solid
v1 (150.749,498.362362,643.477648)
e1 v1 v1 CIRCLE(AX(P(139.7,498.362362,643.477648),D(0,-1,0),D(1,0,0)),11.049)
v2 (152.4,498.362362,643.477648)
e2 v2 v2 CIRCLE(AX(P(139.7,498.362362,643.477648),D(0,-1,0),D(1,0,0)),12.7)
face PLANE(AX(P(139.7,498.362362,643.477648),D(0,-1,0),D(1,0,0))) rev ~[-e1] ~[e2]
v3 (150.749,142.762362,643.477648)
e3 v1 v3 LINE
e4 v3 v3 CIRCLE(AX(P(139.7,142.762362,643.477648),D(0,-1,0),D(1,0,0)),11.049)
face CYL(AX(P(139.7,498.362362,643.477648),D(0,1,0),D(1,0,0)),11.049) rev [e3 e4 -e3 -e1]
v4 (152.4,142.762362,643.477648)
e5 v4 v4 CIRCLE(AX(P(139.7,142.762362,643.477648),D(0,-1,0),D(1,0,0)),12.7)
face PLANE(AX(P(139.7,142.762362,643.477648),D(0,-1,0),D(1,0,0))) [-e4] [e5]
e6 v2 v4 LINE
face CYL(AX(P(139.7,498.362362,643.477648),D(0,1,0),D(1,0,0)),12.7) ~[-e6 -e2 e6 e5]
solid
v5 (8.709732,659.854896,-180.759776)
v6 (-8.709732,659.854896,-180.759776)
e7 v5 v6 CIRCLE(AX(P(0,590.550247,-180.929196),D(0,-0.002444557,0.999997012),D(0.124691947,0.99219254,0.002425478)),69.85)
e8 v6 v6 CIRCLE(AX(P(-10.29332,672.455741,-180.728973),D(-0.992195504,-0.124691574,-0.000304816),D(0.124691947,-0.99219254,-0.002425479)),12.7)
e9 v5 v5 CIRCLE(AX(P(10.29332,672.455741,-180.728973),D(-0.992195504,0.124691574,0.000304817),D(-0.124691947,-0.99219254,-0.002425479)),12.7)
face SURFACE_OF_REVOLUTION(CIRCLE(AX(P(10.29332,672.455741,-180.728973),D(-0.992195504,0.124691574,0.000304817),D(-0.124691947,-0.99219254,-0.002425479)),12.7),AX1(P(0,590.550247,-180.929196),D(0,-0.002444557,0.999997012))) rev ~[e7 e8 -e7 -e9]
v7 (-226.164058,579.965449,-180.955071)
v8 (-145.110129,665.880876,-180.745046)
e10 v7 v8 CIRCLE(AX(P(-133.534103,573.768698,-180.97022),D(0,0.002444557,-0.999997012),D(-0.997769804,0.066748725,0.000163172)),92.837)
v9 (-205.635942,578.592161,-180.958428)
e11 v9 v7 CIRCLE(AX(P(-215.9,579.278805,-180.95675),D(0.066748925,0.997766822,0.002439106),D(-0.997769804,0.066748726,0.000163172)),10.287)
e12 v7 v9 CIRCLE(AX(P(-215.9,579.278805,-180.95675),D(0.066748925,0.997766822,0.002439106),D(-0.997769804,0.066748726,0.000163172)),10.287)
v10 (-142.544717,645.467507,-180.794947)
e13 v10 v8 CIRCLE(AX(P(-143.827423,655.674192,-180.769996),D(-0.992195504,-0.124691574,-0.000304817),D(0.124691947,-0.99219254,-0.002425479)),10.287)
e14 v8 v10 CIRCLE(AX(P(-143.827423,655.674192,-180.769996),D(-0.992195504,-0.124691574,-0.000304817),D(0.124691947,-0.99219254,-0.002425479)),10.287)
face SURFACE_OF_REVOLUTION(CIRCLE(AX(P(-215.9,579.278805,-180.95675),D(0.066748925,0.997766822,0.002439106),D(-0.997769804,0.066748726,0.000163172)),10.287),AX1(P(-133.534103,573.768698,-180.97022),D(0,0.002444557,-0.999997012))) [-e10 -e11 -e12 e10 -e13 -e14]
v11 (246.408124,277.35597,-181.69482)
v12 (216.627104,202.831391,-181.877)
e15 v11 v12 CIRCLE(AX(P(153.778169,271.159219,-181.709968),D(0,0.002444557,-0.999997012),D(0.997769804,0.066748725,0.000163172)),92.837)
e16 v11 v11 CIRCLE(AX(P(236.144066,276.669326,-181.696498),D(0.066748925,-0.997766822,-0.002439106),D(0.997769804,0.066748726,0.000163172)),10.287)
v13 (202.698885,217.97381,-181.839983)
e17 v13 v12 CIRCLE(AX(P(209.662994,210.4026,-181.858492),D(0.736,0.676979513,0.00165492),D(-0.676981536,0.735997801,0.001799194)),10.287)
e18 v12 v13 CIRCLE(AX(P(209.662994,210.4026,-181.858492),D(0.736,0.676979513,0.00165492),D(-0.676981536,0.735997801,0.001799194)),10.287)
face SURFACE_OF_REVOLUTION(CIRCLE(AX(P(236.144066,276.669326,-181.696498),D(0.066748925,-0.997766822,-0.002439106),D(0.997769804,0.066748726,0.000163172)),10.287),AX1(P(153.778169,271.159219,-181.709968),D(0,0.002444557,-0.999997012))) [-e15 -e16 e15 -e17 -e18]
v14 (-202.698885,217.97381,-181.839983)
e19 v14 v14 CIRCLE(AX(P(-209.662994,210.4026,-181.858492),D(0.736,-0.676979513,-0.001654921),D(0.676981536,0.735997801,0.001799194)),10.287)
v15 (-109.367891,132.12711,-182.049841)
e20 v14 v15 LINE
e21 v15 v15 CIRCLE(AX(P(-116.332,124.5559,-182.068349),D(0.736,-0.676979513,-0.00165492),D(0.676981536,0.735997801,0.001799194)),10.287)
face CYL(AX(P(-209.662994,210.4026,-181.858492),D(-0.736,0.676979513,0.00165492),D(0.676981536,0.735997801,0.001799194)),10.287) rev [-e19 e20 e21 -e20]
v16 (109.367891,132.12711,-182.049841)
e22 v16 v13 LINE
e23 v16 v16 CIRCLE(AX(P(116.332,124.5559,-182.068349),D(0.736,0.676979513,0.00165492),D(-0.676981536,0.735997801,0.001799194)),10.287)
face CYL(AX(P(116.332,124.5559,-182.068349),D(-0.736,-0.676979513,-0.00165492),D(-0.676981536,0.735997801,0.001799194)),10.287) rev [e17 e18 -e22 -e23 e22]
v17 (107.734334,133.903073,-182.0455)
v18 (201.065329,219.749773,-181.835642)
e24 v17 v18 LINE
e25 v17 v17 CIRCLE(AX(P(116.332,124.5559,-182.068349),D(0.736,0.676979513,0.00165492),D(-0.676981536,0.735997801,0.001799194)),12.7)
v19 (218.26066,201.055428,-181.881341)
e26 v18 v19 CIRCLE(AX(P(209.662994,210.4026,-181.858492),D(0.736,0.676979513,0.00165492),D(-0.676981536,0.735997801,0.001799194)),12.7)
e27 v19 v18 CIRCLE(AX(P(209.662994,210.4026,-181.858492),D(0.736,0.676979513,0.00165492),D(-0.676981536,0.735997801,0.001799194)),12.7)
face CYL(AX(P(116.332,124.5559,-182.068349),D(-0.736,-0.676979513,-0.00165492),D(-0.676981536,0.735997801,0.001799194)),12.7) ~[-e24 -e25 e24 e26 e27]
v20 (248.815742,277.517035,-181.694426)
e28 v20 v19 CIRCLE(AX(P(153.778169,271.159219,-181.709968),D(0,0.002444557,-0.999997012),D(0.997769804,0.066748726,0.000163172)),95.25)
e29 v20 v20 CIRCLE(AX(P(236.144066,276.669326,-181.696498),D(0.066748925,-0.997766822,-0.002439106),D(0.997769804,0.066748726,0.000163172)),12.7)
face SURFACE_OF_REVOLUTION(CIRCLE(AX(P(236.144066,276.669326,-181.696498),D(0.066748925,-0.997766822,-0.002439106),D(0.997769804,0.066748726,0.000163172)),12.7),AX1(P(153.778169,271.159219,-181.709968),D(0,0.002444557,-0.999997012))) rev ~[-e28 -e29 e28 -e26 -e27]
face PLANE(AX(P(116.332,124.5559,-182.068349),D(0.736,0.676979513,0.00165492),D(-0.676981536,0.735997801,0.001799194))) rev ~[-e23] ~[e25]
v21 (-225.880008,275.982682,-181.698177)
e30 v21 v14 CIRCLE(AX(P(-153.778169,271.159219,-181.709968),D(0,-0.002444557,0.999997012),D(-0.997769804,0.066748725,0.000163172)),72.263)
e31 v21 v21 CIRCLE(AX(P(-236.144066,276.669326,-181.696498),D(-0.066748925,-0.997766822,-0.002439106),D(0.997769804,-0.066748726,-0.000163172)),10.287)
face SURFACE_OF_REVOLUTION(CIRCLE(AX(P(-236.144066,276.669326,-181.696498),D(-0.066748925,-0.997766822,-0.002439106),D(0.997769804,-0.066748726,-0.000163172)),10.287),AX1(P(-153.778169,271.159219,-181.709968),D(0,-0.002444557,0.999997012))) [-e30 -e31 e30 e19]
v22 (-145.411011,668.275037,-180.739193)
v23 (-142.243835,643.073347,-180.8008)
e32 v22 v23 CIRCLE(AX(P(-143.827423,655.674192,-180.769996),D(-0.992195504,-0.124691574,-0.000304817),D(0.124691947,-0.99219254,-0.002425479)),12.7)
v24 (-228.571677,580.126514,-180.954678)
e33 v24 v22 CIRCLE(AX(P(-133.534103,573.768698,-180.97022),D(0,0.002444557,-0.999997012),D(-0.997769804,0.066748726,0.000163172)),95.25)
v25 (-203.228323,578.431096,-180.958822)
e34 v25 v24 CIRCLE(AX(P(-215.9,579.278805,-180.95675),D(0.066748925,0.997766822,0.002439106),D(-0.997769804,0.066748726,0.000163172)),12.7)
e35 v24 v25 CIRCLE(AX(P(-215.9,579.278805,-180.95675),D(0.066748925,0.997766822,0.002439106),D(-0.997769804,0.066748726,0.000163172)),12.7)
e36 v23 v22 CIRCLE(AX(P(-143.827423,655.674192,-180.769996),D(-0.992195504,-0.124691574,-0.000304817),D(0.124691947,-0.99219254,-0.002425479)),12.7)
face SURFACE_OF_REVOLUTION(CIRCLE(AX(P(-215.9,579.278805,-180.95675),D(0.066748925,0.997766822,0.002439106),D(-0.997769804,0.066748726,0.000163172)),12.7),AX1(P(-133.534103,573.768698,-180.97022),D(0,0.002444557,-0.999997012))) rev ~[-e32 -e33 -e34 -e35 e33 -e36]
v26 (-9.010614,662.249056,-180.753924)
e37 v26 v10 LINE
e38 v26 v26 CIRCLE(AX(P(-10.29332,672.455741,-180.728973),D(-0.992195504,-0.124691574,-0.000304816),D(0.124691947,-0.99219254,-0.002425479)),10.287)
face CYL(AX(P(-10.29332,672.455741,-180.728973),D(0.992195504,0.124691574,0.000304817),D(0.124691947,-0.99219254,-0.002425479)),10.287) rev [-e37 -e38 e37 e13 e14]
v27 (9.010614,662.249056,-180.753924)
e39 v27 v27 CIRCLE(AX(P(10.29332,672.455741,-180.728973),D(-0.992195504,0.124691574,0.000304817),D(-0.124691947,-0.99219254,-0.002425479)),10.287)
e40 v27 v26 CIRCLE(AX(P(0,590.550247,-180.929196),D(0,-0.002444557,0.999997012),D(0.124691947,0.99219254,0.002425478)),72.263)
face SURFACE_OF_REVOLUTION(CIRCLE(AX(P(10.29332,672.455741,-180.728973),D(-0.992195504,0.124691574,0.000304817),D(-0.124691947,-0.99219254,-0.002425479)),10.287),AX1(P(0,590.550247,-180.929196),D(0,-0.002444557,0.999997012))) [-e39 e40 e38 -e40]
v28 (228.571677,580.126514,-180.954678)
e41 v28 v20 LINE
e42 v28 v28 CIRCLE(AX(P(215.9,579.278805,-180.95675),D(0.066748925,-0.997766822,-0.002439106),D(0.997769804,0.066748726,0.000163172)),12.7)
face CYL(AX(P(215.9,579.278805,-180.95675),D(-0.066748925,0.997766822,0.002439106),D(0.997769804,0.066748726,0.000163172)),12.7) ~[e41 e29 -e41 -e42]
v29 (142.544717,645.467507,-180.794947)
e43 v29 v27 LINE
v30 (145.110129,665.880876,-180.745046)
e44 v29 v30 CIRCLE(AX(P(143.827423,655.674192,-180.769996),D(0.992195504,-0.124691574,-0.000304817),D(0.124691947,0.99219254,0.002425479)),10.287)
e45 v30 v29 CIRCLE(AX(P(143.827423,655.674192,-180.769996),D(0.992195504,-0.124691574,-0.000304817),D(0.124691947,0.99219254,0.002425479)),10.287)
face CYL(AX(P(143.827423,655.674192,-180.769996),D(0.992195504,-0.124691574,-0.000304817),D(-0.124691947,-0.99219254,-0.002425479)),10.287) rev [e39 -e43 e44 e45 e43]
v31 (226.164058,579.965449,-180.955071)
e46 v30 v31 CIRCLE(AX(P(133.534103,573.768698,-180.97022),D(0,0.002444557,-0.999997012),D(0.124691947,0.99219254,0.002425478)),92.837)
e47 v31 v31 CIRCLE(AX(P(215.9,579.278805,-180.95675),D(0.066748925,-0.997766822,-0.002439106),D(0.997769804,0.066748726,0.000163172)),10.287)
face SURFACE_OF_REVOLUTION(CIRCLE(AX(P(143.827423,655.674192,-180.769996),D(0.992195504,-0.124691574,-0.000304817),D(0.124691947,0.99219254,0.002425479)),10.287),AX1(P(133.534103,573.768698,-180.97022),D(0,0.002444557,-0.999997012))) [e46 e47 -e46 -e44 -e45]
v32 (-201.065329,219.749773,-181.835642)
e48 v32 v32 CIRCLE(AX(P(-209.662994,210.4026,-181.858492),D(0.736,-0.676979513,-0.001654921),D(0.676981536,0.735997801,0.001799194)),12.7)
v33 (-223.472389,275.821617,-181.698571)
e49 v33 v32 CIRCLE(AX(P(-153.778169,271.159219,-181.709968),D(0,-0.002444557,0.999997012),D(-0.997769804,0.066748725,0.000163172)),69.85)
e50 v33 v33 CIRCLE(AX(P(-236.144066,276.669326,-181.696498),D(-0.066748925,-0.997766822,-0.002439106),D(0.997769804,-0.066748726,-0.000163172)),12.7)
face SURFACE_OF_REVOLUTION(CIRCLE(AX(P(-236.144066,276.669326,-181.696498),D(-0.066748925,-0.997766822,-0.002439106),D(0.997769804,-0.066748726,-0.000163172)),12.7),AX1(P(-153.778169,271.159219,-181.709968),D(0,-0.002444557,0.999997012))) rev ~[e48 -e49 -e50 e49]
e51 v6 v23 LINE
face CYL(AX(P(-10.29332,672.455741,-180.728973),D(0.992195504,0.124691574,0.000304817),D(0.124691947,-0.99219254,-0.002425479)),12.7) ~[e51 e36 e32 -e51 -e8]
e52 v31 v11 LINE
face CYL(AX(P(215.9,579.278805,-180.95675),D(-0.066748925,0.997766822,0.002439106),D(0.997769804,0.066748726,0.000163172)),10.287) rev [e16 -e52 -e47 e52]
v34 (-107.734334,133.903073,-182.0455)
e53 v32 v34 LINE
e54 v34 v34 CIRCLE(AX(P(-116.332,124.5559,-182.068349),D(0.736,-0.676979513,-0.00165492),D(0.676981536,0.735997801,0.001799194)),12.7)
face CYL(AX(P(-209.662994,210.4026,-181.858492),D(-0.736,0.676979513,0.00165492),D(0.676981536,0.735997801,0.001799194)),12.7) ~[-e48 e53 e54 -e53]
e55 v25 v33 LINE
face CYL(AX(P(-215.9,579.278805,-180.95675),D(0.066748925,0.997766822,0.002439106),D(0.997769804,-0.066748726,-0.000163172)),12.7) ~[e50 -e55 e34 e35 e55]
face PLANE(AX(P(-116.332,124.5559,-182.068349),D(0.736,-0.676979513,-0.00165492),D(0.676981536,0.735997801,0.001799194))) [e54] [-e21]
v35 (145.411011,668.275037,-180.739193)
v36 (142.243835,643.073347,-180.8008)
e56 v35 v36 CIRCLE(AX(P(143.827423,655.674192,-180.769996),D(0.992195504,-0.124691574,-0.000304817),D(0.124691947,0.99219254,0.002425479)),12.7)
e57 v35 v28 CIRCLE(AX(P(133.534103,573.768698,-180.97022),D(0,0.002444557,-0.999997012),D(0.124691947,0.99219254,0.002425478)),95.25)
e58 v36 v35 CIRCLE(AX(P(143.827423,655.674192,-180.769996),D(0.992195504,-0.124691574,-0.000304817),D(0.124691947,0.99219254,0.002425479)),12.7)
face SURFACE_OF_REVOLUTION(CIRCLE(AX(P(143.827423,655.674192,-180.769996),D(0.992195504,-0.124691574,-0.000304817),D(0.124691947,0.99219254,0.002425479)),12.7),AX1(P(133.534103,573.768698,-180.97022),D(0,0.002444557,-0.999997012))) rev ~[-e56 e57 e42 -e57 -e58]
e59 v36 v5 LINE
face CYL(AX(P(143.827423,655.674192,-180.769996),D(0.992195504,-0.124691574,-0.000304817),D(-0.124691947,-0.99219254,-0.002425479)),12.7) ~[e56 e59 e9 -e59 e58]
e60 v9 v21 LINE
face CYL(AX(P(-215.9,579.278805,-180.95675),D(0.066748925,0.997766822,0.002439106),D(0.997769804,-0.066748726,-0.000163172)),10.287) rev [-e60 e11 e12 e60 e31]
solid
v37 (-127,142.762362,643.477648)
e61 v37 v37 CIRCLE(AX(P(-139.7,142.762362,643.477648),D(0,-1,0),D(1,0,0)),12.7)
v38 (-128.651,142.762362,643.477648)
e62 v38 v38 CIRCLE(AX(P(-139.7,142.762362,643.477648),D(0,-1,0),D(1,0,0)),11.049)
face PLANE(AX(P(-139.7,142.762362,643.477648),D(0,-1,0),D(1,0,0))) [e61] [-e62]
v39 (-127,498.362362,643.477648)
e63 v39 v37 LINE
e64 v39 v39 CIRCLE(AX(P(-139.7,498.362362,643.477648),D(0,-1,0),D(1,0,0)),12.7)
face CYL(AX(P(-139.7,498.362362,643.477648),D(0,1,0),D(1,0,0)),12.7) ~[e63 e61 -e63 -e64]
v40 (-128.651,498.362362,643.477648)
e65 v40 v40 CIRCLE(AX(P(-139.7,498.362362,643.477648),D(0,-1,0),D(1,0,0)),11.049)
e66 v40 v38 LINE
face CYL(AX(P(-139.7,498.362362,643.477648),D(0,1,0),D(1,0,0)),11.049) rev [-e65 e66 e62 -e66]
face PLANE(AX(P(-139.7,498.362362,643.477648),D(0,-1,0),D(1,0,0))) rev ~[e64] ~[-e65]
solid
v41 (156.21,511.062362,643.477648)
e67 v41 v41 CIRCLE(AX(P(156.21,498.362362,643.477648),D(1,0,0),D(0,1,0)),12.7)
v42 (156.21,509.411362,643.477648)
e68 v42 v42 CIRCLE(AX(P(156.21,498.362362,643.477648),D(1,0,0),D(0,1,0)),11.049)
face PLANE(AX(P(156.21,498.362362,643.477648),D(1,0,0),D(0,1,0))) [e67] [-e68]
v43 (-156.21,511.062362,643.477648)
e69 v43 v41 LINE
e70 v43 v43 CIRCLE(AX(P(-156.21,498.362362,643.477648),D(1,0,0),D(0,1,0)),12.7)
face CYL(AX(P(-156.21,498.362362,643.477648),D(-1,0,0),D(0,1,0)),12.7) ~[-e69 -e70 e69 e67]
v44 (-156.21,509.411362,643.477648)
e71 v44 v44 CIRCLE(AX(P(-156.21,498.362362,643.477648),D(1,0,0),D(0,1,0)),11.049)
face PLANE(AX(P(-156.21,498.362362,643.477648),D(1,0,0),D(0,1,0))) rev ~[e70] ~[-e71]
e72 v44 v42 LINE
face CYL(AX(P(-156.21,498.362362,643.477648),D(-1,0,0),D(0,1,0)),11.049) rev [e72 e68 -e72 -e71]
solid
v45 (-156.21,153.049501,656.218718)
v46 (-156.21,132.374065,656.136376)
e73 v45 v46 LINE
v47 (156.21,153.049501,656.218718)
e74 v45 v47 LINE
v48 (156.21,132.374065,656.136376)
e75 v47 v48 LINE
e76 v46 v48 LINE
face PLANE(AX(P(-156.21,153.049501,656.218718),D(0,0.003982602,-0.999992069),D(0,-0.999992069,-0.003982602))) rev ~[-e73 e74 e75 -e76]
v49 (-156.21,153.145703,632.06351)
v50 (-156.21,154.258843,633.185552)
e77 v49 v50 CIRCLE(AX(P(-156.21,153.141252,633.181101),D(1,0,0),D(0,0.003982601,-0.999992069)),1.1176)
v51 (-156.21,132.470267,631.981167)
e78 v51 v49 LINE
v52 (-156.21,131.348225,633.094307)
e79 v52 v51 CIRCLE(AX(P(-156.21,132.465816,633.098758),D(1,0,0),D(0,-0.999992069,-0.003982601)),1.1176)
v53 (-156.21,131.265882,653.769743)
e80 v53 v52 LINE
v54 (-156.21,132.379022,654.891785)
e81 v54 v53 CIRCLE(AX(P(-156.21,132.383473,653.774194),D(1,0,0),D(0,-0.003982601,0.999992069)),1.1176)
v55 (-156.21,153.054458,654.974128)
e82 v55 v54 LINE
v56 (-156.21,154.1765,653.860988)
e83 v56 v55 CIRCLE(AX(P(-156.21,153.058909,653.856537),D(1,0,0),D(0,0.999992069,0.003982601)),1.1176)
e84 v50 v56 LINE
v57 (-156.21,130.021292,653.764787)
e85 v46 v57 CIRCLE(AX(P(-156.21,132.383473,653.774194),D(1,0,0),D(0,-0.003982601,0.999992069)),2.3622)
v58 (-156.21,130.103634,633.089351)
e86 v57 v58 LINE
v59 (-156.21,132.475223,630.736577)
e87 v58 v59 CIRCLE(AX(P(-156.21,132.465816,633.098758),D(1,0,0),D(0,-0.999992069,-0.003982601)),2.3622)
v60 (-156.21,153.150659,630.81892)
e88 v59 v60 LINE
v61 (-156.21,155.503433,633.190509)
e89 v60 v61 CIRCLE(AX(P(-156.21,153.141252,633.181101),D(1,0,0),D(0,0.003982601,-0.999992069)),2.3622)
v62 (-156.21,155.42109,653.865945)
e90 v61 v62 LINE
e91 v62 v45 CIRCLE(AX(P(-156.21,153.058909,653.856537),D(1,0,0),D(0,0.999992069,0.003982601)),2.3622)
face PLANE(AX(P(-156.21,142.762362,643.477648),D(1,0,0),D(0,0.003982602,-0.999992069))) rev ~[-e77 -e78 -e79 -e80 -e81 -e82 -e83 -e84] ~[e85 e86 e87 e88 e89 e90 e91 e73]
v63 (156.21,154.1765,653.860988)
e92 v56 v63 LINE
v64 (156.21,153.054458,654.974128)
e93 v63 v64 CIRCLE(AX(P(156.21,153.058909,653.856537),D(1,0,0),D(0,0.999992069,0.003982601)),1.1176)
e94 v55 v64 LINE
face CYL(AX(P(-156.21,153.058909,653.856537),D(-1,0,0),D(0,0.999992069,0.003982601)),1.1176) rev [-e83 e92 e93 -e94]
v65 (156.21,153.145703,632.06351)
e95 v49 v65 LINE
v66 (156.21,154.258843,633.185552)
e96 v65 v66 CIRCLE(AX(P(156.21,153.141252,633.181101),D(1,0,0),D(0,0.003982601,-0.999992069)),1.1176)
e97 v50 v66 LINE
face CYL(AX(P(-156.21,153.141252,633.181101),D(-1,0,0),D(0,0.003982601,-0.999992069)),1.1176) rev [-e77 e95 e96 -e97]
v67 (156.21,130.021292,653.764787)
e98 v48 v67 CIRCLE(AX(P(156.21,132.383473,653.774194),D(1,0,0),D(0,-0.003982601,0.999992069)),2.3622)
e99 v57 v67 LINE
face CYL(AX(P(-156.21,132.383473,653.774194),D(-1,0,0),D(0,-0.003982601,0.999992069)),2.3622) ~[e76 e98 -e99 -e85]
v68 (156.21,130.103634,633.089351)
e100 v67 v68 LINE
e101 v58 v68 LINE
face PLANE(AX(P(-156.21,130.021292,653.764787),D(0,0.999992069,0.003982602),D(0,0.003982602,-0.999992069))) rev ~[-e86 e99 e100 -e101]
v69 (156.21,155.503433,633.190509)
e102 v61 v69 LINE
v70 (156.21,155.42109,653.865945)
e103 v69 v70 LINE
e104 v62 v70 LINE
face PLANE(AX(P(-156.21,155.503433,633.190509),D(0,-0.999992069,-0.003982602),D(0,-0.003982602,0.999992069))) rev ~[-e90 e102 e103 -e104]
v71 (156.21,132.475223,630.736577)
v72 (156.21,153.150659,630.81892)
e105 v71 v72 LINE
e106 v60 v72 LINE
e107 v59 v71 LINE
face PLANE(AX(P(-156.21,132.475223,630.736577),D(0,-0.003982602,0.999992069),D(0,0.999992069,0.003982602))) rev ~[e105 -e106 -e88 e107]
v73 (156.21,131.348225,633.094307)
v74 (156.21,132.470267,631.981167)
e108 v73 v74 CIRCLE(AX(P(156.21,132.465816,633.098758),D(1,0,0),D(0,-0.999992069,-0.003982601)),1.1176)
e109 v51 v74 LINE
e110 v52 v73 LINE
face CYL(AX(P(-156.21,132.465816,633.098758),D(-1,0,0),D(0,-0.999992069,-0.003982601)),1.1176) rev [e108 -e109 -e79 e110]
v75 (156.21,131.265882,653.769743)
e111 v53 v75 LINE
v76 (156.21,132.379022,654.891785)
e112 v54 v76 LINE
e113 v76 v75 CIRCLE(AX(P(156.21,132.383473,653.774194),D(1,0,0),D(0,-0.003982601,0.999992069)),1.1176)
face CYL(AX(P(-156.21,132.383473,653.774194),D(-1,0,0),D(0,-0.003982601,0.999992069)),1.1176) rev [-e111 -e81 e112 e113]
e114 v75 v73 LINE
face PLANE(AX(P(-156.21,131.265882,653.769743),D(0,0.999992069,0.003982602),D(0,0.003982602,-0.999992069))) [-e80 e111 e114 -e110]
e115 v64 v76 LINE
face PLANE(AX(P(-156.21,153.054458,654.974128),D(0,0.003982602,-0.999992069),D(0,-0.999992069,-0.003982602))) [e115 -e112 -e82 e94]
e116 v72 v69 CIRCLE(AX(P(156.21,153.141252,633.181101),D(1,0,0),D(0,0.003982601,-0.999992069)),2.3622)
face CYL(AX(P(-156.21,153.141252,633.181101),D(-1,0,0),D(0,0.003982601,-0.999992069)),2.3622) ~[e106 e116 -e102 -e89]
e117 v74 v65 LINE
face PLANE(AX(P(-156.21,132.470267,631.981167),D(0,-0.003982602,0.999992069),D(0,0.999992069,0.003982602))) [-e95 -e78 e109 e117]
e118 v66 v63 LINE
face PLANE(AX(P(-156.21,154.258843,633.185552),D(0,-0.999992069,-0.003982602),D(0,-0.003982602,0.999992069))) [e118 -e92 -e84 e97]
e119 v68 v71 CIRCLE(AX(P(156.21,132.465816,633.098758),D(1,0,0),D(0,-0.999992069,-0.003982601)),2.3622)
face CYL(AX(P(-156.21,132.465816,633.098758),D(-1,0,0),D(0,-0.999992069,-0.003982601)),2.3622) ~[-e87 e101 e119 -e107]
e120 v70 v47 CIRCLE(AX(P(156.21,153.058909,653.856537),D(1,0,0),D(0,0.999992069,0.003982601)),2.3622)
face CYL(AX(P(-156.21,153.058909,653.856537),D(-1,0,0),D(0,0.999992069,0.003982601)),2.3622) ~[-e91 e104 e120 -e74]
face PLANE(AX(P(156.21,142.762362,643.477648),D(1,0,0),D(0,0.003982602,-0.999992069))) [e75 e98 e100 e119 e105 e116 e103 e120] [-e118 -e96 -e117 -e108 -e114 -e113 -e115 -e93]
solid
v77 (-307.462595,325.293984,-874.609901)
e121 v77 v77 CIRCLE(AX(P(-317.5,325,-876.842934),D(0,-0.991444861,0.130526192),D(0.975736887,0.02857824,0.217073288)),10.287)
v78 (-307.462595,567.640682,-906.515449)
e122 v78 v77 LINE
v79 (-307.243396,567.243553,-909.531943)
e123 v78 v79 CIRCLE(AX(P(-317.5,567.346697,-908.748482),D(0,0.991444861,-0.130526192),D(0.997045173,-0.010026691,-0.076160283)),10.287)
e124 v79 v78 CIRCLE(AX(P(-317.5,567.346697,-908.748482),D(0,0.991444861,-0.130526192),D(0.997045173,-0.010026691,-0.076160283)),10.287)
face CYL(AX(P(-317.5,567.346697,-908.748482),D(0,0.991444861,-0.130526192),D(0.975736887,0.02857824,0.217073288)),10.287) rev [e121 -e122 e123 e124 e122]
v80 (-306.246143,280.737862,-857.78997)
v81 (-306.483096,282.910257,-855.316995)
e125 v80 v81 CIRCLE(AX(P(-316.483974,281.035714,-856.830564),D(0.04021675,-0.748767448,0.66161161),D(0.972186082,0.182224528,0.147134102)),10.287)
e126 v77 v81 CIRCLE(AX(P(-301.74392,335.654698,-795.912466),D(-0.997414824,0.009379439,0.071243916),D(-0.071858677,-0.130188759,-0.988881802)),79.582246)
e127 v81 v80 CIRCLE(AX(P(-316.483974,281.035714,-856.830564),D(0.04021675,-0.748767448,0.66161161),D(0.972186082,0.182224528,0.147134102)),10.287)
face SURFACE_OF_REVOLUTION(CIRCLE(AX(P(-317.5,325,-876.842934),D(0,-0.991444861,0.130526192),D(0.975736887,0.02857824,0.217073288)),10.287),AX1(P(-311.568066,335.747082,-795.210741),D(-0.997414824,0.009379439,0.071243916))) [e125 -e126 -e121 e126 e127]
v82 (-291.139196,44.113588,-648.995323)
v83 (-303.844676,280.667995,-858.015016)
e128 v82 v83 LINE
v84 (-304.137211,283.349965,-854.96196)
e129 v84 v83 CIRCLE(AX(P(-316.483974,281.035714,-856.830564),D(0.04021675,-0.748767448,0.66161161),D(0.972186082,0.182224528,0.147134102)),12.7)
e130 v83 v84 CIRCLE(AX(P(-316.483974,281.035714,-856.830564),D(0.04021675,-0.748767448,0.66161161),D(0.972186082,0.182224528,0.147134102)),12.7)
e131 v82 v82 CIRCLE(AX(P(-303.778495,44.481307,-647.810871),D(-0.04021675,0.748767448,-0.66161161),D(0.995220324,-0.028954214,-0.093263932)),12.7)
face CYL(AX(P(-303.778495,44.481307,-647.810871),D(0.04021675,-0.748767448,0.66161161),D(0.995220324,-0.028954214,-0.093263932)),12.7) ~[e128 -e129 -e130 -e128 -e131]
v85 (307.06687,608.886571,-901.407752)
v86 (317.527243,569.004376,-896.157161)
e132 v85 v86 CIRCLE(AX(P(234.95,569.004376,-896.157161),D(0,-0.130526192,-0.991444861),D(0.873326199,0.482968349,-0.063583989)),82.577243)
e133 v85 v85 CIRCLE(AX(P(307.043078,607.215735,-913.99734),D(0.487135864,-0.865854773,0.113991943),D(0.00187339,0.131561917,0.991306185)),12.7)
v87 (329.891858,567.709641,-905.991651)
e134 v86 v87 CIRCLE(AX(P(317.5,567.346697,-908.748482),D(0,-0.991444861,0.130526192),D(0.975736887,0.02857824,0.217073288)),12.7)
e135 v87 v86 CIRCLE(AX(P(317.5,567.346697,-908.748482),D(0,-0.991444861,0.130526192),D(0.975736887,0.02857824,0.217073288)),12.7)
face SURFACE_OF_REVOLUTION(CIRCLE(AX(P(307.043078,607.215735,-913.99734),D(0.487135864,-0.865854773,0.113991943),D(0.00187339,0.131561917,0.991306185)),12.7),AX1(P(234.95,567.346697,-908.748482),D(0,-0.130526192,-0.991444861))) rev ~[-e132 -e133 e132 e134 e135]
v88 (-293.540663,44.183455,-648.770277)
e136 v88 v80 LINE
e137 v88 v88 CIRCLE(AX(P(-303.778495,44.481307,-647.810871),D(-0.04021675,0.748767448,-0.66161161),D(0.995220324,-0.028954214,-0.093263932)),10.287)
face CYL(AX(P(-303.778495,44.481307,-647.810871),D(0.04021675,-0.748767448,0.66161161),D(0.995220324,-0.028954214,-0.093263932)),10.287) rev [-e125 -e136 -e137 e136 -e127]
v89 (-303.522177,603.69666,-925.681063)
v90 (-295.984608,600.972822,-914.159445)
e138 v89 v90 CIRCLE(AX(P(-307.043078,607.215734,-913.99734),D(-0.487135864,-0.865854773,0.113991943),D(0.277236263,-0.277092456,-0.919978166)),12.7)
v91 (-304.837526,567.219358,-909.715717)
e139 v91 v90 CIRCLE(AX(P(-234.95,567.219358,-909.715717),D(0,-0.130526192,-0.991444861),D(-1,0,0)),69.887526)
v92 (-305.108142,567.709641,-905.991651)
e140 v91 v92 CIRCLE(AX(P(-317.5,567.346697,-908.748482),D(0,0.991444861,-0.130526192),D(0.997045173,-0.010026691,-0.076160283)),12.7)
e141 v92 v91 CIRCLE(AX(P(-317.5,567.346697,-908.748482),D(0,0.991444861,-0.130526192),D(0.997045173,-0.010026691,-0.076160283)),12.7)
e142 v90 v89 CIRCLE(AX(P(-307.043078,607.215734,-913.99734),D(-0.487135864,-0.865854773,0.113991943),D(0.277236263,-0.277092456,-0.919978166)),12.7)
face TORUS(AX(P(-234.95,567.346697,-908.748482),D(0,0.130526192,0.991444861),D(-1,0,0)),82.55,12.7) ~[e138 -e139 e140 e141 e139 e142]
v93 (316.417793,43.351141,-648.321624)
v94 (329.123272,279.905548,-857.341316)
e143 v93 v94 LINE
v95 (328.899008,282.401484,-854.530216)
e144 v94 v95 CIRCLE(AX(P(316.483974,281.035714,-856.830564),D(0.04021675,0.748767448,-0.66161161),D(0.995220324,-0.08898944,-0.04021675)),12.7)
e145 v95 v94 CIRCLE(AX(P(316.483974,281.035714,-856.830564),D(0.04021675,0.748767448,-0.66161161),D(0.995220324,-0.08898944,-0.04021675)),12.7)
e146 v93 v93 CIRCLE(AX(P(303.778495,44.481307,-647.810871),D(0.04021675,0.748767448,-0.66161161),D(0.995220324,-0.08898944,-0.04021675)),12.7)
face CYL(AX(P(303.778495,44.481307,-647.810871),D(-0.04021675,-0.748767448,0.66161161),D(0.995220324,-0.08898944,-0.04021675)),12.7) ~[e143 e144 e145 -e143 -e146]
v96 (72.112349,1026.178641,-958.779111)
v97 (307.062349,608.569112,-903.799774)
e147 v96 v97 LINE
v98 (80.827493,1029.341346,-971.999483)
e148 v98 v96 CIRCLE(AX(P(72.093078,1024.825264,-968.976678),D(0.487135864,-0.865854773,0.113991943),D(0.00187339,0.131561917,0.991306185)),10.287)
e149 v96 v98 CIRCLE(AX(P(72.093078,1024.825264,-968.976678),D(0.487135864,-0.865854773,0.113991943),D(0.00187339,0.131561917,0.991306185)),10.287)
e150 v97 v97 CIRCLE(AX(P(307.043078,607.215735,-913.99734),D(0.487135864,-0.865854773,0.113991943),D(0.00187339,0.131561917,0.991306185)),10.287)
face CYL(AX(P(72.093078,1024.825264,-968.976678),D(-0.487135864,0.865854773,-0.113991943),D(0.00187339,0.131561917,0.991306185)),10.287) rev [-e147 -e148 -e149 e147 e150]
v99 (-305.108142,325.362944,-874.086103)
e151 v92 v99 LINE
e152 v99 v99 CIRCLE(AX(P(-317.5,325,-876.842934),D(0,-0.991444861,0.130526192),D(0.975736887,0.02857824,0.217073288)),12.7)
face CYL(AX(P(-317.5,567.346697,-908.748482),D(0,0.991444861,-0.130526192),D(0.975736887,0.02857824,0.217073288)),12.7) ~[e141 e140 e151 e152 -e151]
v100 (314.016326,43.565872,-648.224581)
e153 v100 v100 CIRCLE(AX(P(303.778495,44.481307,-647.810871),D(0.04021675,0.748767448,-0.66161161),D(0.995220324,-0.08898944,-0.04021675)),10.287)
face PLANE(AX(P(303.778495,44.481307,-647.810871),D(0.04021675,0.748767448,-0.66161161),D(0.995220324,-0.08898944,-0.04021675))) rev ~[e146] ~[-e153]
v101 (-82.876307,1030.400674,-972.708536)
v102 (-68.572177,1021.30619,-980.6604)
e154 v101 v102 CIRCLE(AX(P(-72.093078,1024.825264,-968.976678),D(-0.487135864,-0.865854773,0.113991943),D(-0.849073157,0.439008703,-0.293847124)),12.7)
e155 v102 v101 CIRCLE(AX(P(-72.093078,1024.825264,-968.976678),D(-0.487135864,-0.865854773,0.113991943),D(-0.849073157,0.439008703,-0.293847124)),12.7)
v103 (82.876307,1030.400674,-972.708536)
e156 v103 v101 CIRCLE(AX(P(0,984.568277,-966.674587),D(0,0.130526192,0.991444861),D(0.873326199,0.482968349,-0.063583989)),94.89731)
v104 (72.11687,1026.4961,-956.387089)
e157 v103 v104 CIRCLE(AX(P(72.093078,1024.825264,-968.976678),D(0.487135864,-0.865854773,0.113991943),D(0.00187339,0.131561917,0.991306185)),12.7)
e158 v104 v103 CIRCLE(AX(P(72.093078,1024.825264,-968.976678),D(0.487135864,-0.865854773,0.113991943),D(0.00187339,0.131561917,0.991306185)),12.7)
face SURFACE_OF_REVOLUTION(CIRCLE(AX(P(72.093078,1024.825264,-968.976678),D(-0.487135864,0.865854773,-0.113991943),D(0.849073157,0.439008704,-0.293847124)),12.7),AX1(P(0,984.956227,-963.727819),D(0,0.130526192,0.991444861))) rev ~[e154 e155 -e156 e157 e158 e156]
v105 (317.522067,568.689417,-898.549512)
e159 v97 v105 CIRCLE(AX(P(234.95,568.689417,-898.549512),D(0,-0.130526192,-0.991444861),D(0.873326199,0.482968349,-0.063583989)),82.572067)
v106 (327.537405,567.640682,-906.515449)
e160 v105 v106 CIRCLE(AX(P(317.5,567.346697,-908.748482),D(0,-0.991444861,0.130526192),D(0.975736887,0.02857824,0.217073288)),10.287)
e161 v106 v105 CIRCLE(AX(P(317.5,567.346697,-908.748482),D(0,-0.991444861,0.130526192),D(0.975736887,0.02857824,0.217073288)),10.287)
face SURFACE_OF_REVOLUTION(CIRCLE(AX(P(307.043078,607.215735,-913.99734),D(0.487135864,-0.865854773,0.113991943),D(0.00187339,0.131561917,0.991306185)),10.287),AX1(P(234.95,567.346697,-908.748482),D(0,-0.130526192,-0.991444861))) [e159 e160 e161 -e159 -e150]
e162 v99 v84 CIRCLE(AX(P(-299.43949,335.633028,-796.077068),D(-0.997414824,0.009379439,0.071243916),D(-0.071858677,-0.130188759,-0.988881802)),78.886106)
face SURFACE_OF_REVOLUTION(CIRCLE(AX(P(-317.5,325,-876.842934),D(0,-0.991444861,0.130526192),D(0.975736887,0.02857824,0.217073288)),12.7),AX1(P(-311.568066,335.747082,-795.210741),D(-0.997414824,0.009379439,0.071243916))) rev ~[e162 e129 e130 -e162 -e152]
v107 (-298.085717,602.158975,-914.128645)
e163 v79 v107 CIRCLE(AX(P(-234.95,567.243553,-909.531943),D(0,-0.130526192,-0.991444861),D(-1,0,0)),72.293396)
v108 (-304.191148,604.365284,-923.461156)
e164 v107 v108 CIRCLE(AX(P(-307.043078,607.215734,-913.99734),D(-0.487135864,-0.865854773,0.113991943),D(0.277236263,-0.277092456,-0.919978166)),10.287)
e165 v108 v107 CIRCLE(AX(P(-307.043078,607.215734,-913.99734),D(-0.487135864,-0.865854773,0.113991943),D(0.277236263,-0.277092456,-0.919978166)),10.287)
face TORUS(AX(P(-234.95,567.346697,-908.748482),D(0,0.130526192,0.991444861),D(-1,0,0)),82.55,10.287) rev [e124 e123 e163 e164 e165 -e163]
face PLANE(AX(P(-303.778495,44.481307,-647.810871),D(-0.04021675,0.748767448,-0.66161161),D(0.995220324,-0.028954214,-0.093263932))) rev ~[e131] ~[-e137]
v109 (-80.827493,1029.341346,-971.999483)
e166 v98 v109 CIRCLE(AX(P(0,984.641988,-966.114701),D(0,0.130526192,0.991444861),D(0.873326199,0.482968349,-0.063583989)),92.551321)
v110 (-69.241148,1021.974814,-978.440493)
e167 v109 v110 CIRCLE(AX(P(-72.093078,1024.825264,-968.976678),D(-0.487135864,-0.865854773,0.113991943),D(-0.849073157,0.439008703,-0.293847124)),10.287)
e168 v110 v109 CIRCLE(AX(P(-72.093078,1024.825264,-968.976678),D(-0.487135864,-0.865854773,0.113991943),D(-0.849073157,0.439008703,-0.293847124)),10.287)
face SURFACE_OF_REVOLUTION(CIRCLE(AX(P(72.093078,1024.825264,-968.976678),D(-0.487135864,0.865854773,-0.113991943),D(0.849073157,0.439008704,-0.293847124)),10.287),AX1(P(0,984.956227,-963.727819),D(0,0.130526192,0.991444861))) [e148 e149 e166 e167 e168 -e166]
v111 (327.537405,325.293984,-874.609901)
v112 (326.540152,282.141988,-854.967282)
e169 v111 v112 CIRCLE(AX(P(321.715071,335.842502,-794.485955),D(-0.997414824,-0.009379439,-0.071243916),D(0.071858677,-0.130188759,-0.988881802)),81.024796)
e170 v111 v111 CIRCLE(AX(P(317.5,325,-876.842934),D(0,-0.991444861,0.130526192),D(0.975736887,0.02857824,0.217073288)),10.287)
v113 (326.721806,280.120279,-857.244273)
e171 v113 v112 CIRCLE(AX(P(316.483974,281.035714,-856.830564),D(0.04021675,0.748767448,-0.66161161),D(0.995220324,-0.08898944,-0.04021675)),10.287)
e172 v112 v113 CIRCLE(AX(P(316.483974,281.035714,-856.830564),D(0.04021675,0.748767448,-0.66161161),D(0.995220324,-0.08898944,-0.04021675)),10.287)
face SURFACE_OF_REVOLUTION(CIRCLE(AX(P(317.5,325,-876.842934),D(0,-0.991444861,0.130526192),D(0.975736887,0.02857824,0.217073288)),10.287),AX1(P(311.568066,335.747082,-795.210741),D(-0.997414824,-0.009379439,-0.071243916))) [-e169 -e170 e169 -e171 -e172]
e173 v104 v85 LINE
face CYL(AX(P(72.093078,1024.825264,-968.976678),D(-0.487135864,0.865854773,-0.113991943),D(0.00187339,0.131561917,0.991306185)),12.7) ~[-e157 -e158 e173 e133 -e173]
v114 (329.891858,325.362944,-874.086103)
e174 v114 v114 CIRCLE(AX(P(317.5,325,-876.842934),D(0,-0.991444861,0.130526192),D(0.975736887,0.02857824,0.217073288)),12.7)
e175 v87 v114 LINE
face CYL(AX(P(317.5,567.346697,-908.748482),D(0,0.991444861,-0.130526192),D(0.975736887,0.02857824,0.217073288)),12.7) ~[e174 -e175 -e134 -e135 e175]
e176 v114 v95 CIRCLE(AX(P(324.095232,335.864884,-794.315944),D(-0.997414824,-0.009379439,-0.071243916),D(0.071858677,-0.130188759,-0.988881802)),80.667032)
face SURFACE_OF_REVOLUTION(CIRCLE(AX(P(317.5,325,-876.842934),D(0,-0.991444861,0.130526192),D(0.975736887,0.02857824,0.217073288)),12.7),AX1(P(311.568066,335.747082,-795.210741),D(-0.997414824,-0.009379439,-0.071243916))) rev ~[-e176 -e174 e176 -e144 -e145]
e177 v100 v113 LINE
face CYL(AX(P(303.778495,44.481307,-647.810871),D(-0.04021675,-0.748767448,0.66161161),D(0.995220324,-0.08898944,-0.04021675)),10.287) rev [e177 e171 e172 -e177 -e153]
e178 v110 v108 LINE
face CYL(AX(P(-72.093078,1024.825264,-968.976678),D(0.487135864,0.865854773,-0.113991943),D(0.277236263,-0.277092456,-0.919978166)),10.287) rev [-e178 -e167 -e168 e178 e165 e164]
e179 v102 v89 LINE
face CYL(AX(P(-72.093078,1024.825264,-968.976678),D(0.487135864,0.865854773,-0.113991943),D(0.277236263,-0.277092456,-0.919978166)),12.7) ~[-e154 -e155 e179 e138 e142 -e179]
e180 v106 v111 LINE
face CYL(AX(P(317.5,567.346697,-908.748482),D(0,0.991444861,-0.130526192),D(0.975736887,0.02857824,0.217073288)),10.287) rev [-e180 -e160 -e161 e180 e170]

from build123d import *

# Parameters (mm, degrees)
SKETCH1153_R                       = 12.7
SKETCH1153_R_2                     = 10.287
MAIN_ROLL_HOOP_STRUCTURE_DEPTH     = 315.925067867
SKETCH1153_ON_SEGMENT_2_R          = 12.7
SKETCH1153_ON_SEGMENT_2_R_2        = 10.287
MAIN_ROLL_HOOP_STRUCTURE_2_ANGLE   = 34.032598731
SKETCH1153_ON_SEGMENT_3_R          = 12.7
SKETCH1153_ON_SEGMENT_3_R_2        = 10.287
MAIN_ROLL_HOOP_STRUCTURE_3_DEPTH   = 244.437897406
SKETCH1153_ON_SEGMENT_4_R          = 12.7
SKETCH1153_ON_SEGMENT_4_R_2        = 10.287
MAIN_ROLL_HOOP_STRUCTURE_4_ANGLE   = 29.15250341
SKETCH1153_ON_SEGMENT_5_R          = 12.7
SKETCH1153_ON_SEGMENT_5_R_2        = 10.287
MAIN_ROLL_HOOP_STRUCTURE_5_DEPTH   = 482.30897679
SKETCH1153_ON_SEGMENT_6_R          = 12.7
SKETCH1153_ON_SEGMENT_6_R_2        = 10.287
MAIN_ROLL_HOOP_STRUCTURE_6_ANGLE   = 121.694993179
SKETCH1153_ON_SEGMENT_7_R          = 12.7
SKETCH1153_ON_SEGMENT_7_R_2        = 10.287
MAIN_ROLL_HOOP_STRUCTURE_7_DEPTH   = 482.30897679
SKETCH1153_ON_SEGMENT_8_R          = 12.7
SKETCH1153_ON_SEGMENT_8_R_2        = 10.287
MAIN_ROLL_HOOP_STRUCTURE_8_ANGLE   = 29.15250341
SKETCH1153_ON_SEGMENT_9_R          = 12.7
SKETCH1153_ON_SEGMENT_9_R_2        = 10.287
MAIN_ROLL_HOOP_STRUCTURE_9_DEPTH   = 244.437897406
SKETCH1153_ON_SEGMENT_10_R         = 12.7
SKETCH1153_ON_SEGMENT_10_R_2       = 10.287
MAIN_ROLL_HOOP_STRUCTURE_10_ANGLE  = 34.032598731
SKETCH1153_ON_SEGMENT_11_R         = 12.7
SKETCH1153_ON_SEGMENT_11_R_2       = 10.287
MAIN_ROLL_HOOP_STRUCTURE_11_DEPTH  = 315.925067867
SKETCH1172_ON_SEGMENT_1_R          = 12.7
SKETCH1172_ON_SEGMENT_1_R_2        = 10.287
FRONT_ROLL_HOOP_STRUCTURE_DEPTH    = 126.80841641
SKETCH1172_ON_SEGMENT_2_R          = 12.7
SKETCH1172_ON_SEGMENT_2_R_2        = 10.287
FRONT_ROLL_HOOP_STRUCTURE_2_ANGLE  = 51.219059772
SKETCH1172_ON_SEGMENT_3_R          = 12.7
SKETCH1172_ON_SEGMENT_3_R_2        = 10.287
FRONT_ROLL_HOOP_STRUCTURE_3_DEPTH  = 303.286771979
SKETCH1172_ON_SEGMENT_4_R          = 12.7
SKETCH1172_ON_SEGMENT_4_R_2        = 10.287
FRONT_ROLL_HOOP_STRUCTURE_4_ANGLE  = 79.009756255
SKETCH1172_ON_SEGMENT_5_R          = 12.7
SKETCH1172_ON_SEGMENT_5_R_2        = 10.287
FRONT_ROLL_HOOP_STRUCTURE_5_DEPTH  = 134.584466623
SKETCH1172_ON_SEGMENT_6_R          = 12.7
SKETCH1172_ON_SEGMENT_6_R_2        = 10.287
FRONT_ROLL_HOOP_STRUCTURE_6_ANGLE  = 14.325932886
SKETCH1172_ON_SEGMENT_7_R          = 12.7
SKETCH1172_ON_SEGMENT_7_R_2        = 10.287
FRONT_ROLL_HOOP_STRUCTURE_7_DEPTH  = 134.584466623
SKETCH1172_ON_SEGMENT_8_R          = 12.7
SKETCH1172_ON_SEGMENT_8_R_2        = 10.287
FRONT_ROLL_HOOP_STRUCTURE_8_ANGLE  = 79.009756255
SKETCH1172_ON_SEGMENT_9_R          = 12.7
SKETCH1172_ON_SEGMENT_9_R_2        = 10.287
FRONT_ROLL_HOOP_STRUCTURE_9_DEPTH  = 303.286771979
SKETCH1172_ON_SEGMENT_10_R         = 12.7
SKETCH1172_ON_SEGMENT_10_R_2       = 10.287
FRONT_ROLL_HOOP_STRUCTURE_10_ANGLE = 51.219059772
SKETCH1172_R                       = 12.7
SKETCH1172_R_2                     = 10.287
FRONT_ROLL_HOOP_STRUCTURE_11_DEPTH = 126.80841641
FRONT_BULKHEAD_LOWER_DEPTH         = 312.42
SKETCH126_R                        = 12.7
SKETCH126_R_2                      = 11.049
FRONT_BULKHEAD_SIDE_DEPTH          = 355.6
SKETCH126_ON_SEGMENT_2_R           = 12.7
SKETCH126_ON_SEGMENT_2_R_2         = 11.049
FRONT_BULKHEAD_SIDE_2_DEPTH        = 355.6
SKETCH127_R                        = 12.7
SKETCH127_R_2                      = 11.049
FRONT_BULKHEAD_UPPER_DEPTH         = 312.42


with BuildPart() as part:
    # Sketch1153 → Main Roll Hoop Structure (new body)
    with BuildSketch(Plane(origin=(303.778494541, 44.481306824, -647.810870849), x_dir=(0.9952203235825845, -0.08898944049055654, -0.04021675035795001), z_dir=(0.04021675035795001, 0.7487674478678381, -0.6616116096352382))):
        Circle(SKETCH1153_R)
        Circle(SKETCH1153_R_2, mode=Mode.SUBTRACT)
    extrude(amount=MAIN_ROLL_HOOP_STRUCTURE_DEPTH)


with BuildPart() as body_2:
    # Sketch1153 on segment 2 (carried to the start of arc 2) → Main Roll Hoop Structure 2 (revolve)
    with BuildSketch(Plane(origin=(317.5, 325, -876.842933853), x_dir=(0.975736887, 0.02857824, 0.217073288), z_dir=(0, -0.991444861, 0.130526192))):
        Circle(SKETCH1153_ON_SEGMENT_2_R)
        Circle(SKETCH1153_ON_SEGMENT_2_R_2, mode=Mode.SUBTRACT)
    revolve(axis=Axis((311.56806622, 335.747082056, -795.210741129), (-0.997414824, -0.009379439, -0.071243916)), revolution_arc=MAIN_ROLL_HOOP_STRUCTURE_2_ANGLE)


with BuildPart() as body_3:
    # Sketch1153 on segment 3 (carried to segment 3) → Main Roll Hoop Structure 3 (new body)
    with BuildSketch(Plane(origin=(317.5, 567.346697308, -908.748481836), x_dir=(0.975736887, 0.02857824, 0.217073288), z_dir=(0, -0.991444861, 0.130526192))):
        Circle(SKETCH1153_ON_SEGMENT_3_R)
        Circle(SKETCH1153_ON_SEGMENT_3_R_2, mode=Mode.SUBTRACT)
    extrude(amount=MAIN_ROLL_HOOP_STRUCTURE_3_DEPTH)


with BuildPart() as body_4:
    # Sketch1153 on segment 4 (carried to the start of arc 4) → Main Roll Hoop Structure 4 (revolve)
    with BuildSketch(Plane(origin=(307.043077746, 607.21573451, -913.99734016), x_dir=(0.00187339, 0.131561917, 0.991306185), z_dir=(0.487135864, -0.865854773, 0.113991943))):
        Circle(SKETCH1153_ON_SEGMENT_4_R)
        Circle(SKETCH1153_ON_SEGMENT_4_R_2, mode=Mode.SUBTRACT)
    revolve(axis=Axis((234.95, 567.346697308, -908.748481836), (0, -0.130526192, -0.991444861)), revolution_arc=MAIN_ROLL_HOOP_STRUCTURE_4_ANGLE)


with BuildPart() as body_5:
    # Sketch1153 on segment 5 (carried to segment 5) → Main Roll Hoop Structure 5 (new body)
    with BuildSketch(Plane(origin=(72.093077746, 1024.825263895, -968.97667772), x_dir=(0.00187339, 0.131561917, 0.991306185), z_dir=(0.487135864, -0.865854773, 0.113991943))):
        Circle(SKETCH1153_ON_SEGMENT_5_R)
        Circle(SKETCH1153_ON_SEGMENT_5_R_2, mode=Mode.SUBTRACT)
    extrude(amount=MAIN_ROLL_HOOP_STRUCTURE_5_DEPTH)


with BuildPart() as body_6:
    # Sketch1153 on segment 6 (carried to the start of arc 6) → Main Roll Hoop Structure 6 (revolve)
    with BuildSketch(Plane(origin=(72.093077746, 1024.825263895, -968.97667772), x_dir=(0.849073157, 0.439008704, -0.293847124), z_dir=(-0.487135864, 0.865854773, -0.113991943))):
        Circle(SKETCH1153_ON_SEGMENT_6_R)
        Circle(SKETCH1153_ON_SEGMENT_6_R_2, mode=Mode.SUBTRACT)
    revolve(axis=Axis((0, 984.956226694, -963.727819396), (0, 0.130526192, 0.991444861)), revolution_arc=MAIN_ROLL_HOOP_STRUCTURE_6_ANGLE)


with BuildPart() as body_7:
    # Sketch1153 on segment 7 (carried to segment 7) → Main Roll Hoop Structure 7 (new body)
    with BuildSketch(Plane(origin=(-72.093077746, 1024.825263895, -968.97667772), x_dir=(0.277236263, -0.277092456, -0.919978166), z_dir=(-0.487135864, -0.865854773, 0.113991943))):
        Circle(SKETCH1153_ON_SEGMENT_7_R)
        Circle(SKETCH1153_ON_SEGMENT_7_R_2, mode=Mode.SUBTRACT)
    extrude(amount=MAIN_ROLL_HOOP_STRUCTURE_7_DEPTH)


with BuildPart() as body_8:
    # Sketch1153 on segment 8 (carried to the start of arc 8) → Main Roll Hoop Structure 8 (revolve)
    with BuildSketch(Plane(origin=(-317.5, 567.346697308, -908.748481836), x_dir=(0.997045173, -0.010026692, -0.076160283), z_dir=(0, 0.991444861, -0.130526192))):
        Circle(SKETCH1153_ON_SEGMENT_8_R)
        Circle(SKETCH1153_ON_SEGMENT_8_R_2, mode=Mode.SUBTRACT)
    revolve(axis=Axis((-234.95, 567.346697308, -908.748481836), (0, -0.130526192, -0.991444861)), revolution_arc=MAIN_ROLL_HOOP_STRUCTURE_8_ANGLE)


with BuildPart() as body_9:
    # Sketch1153 on segment 9 (carried to segment 9) → Main Roll Hoop Structure 9 (new body)
    with BuildSketch(Plane(origin=(-317.5, 567.346697308, -908.748481836), x_dir=(0.975736887, 0.02857824, 0.217073288), z_dir=(0, -0.991444861, 0.130526192))):
        Circle(SKETCH1153_ON_SEGMENT_9_R)
        Circle(SKETCH1153_ON_SEGMENT_9_R_2, mode=Mode.SUBTRACT)
    extrude(amount=MAIN_ROLL_HOOP_STRUCTURE_9_DEPTH)


with BuildPart() as body_10:
    # Sketch1153 on segment 10 (carried to the start of arc 10) → Main Roll Hoop Structure 10 (revolve)
    with BuildSketch(Plane(origin=(-317.5, 325, -876.842933853), x_dir=(0.975736887, 0.02857824, 0.217073288), z_dir=(0, -0.991444861, 0.130526192))):
        Circle(SKETCH1153_ON_SEGMENT_10_R)
        Circle(SKETCH1153_ON_SEGMENT_10_R_2, mode=Mode.SUBTRACT)
    revolve(axis=Axis((-311.56806622, 335.747082056, -795.210741129), (-0.997414824, 0.009379439, 0.071243916)), revolution_arc=MAIN_ROLL_HOOP_STRUCTURE_10_ANGLE)


with BuildPart() as body_11:
    # Sketch1153 on segment 11 (carried to segment 11) → Main Roll Hoop Structure 11 (new body)
    with BuildSketch(Plane(origin=(-303.778494541, 44.481306824, -647.810870849), x_dir=(0.995220324, -0.028954214, -0.093263932), z_dir=(-0.04021675, 0.748767448, -0.66161161))):
        Circle(SKETCH1153_ON_SEGMENT_11_R)
        Circle(SKETCH1153_ON_SEGMENT_11_R_2, mode=Mode.SUBTRACT)
    extrude(amount=MAIN_ROLL_HOOP_STRUCTURE_11_DEPTH)


with BuildPart() as part_1:
    add(part.part)

    # Main Roll Hoop Structure as one body: union body 2, body 3, body 4, body 5, body 6, body 7, body 8, body 9, body 10, body 11
    add(body_2.part)
    add(body_3.part)
    add(body_4.part)
    add(body_5.part)
    add(body_6.part)
    add(body_7.part)
    add(body_8.part)
    add(body_9.part)
    add(body_10.part)
    add(body_11.part)


with BuildPart() as body_2_2:
    # Sketch1172 on segment 1 (carried to segment 1) → Front Roll Hoop Structure (new body)
    with BuildSketch(Plane(origin=(116.332, 124.555900457, -182.06834945), x_dir=(-0.676981536, 0.735997801, 0.001799194), z_dir=(0.736, 0.676979513, 0.00165492))):
        Circle(SKETCH1172_ON_SEGMENT_1_R)
        Circle(SKETCH1172_ON_SEGMENT_1_R_2, mode=Mode.SUBTRACT)
    extrude(amount=FRONT_ROLL_HOOP_STRUCTURE_DEPTH)


with BuildPart() as body_3_2:
    # Sketch1172 on segment 2 (carried to the start of arc 2) → Front Roll Hoop Structure 2 (revolve)
    with BuildSketch(Plane(origin=(236.144065975, 276.669326214, -181.696498346), x_dir=(0.997769804, 0.066748725, 0.000163172), z_dir=(0.066748925, -0.997766822, -0.002439106))):
        Circle(SKETCH1172_ON_SEGMENT_2_R)
        Circle(SKETCH1172_ON_SEGMENT_2_R_2, mode=Mode.SUBTRACT)
    revolve(axis=Axis((153.778168686, 271.159218925, -181.709968159), (0, 0.002444557, -0.999997012)), revolution_arc=FRONT_ROLL_HOOP_STRUCTURE_2_ANGLE)


with BuildPart() as body_4_2:
    # Sketch1172 on segment 3 (carried to segment 3) → Front Roll Hoop Structure 3 (new body)
    with BuildSketch(Plane(origin=(215.9, 579.278804953, -180.956749908), x_dir=(0.997769804, 0.066748725, 0.000163172), z_dir=(0.066748925, -0.997766822, -0.002439106))):
        Circle(SKETCH1172_ON_SEGMENT_3_R)
        Circle(SKETCH1172_ON_SEGMENT_3_R_2, mode=Mode.SUBTRACT)
    extrude(amount=FRONT_ROLL_HOOP_STRUCTURE_3_DEPTH)


with BuildPart() as body_5_2:
    # Sketch1172 on segment 4 (carried to the start of arc 4) → Front Roll Hoop Structure 4 (revolve)
    with BuildSketch(Plane(origin=(143.827422907, 655.674191802, -180.769996446), x_dir=(0.124691947, 0.99219254, 0.002425479), z_dir=(0.992195504, -0.124691574, -0.000304817))):
        Circle(SKETCH1172_ON_SEGMENT_4_R)
        Circle(SKETCH1172_ON_SEGMENT_4_R_2, mode=Mode.SUBTRACT)
    revolve(axis=Axis((133.534102711, 573.768697664, -180.970219722), (0, 0.002444557, -0.999997012)), revolution_arc=FRONT_ROLL_HOOP_STRUCTURE_4_ANGLE)


with BuildPart() as body_6_2:
    # Sketch1172 on segment 5 (carried to segment 5) → Front Roll Hoop Structure 5 (new body)
    with BuildSketch(Plane(origin=(143.827422907, 655.674191802, -180.769996446), x_dir=(-0.124691947, -0.99219254, -0.002425479), z_dir=(-0.992195504, 0.124691574, 0.000304817))):
        Circle(SKETCH1172_ON_SEGMENT_5_R)
        Circle(SKETCH1172_ON_SEGMENT_5_R_2, mode=Mode.SUBTRACT)
    extrude(amount=FRONT_ROLL_HOOP_STRUCTURE_5_DEPTH)


with BuildPart() as body_7_2:
    # Sketch1172 on segment 6 (carried to the start of arc 6) → Front Roll Hoop Structure 6 (revolve)
    with BuildSketch(Plane(origin=(10.293320196, 672.455740792, -180.728972864), x_dir=(-0.124691947, -0.99219254, -0.002425479), z_dir=(-0.992195504, 0.124691574, 0.000304817))):
        Circle(SKETCH1172_ON_SEGMENT_6_R)
        Circle(SKETCH1172_ON_SEGMENT_6_R_2, mode=Mode.SUBTRACT)
    revolve(axis=Axis((0, 590.550246654, -180.92919614), (0, -0.002444557, 0.999997012)), revolution_arc=FRONT_ROLL_HOOP_STRUCTURE_6_ANGLE)


with BuildPart() as body_8_2:
    # Sketch1172 on segment 7 (carried to segment 7) → Front Roll Hoop Structure 7 (new body)
    with BuildSketch(Plane(origin=(-10.293320196, 672.455740792, -180.728972864), x_dir=(0.124691947, -0.99219254, -0.002425479), z_dir=(-0.992195504, -0.124691574, -0.000304817))):
        Circle(SKETCH1172_ON_SEGMENT_7_R)
        Circle(SKETCH1172_ON_SEGMENT_7_R_2, mode=Mode.SUBTRACT)
    extrude(amount=FRONT_ROLL_HOOP_STRUCTURE_7_DEPTH)


with BuildPart() as body_9_2:
    # Sketch1172 on segment 8 (carried to the start of arc 8) → Front Roll Hoop Structure 8 (revolve)
    with BuildSketch(Plane(origin=(-215.9, 579.278804953, -180.956749908), x_dir=(-0.997769804, 0.066748725, 0.000163172), z_dir=(0.066748925, 0.997766822, 0.002439106))):
        Circle(SKETCH1172_ON_SEGMENT_8_R)
        Circle(SKETCH1172_ON_SEGMENT_8_R_2, mode=Mode.SUBTRACT)
    revolve(axis=Axis((-133.534102711, 573.768697664, -180.970219722), (0, 0.002444557, -0.999997012)), revolution_arc=FRONT_ROLL_HOOP_STRUCTURE_8_ANGLE)


with BuildPart() as body_10_2:
    # Sketch1172 on segment 9 (carried to segment 9) → Front Roll Hoop Structure 9 (new body)
    with BuildSketch(Plane(origin=(-215.9, 579.278804953, -180.956749908), x_dir=(0.997769804, -0.066748725, -0.000163172), z_dir=(-0.066748925, -0.997766822, -0.002439106))):
        Circle(SKETCH1172_ON_SEGMENT_9_R)
        Circle(SKETCH1172_ON_SEGMENT_9_R_2, mode=Mode.SUBTRACT)
    extrude(amount=FRONT_ROLL_HOOP_STRUCTURE_9_DEPTH)


with BuildPart() as body_11_2:
    # Sketch1172 on segment 10 (carried to the start of arc 10) → Front Roll Hoop Structure 10 (revolve)
    with BuildSketch(Plane(origin=(-236.144065975, 276.669326214, -181.696498346), x_dir=(0.997769804, -0.066748725, -0.000163172), z_dir=(-0.066748925, -0.997766822, -0.002439106))):
        Circle(SKETCH1172_ON_SEGMENT_10_R)
        Circle(SKETCH1172_ON_SEGMENT_10_R_2, mode=Mode.SUBTRACT)
    revolve(axis=Axis((-153.778168686, 271.159218925, -181.709968159), (0, -0.002444557, 0.999997012)), revolution_arc=FRONT_ROLL_HOOP_STRUCTURE_10_ANGLE)


with BuildPart() as body_12:
    # Sketch1172 → Front Roll Hoop Structure 11 (new body)
    with BuildSketch(Plane(origin=(-209.662994477, 210.402600463, -181.858491641), x_dir=(0.6769815359372781, 0.7359978008799946, 0.0017991942129510702), z_dir=(0.7360000000000028, -0.6769795131605921, -0.00165492019257211))):
        Circle(SKETCH1172_R)
        Circle(SKETCH1172_R_2, mode=Mode.SUBTRACT)
    extrude(amount=FRONT_ROLL_HOOP_STRUCTURE_11_DEPTH)


with BuildPart() as body_2_2_1:
    add(body_2_2.part)

    # Front Roll Hoop Structure as one body: union body 3 2, body 4 2, body 5 2, body 6 2, body 7 2, body 8 2, body 9 2, body 10 2, body 11 2, body 12
    add(body_3_2.part)
    add(body_4_2.part)
    add(body_5_2.part)
    add(body_6_2.part)
    add(body_7_2.part)
    add(body_8_2.part)
    add(body_9_2.part)
    add(body_10_2.part)
    add(body_11_2.part)
    add(body_12.part)


with BuildPart() as body_3_3:
    # Sketch123 → Front Bulkhead Lower (new body)
    with BuildSketch(Plane(origin=(-156.21, 142.762362322, 643.477647564), x_dir=(0, 0.003982601669673125, -0.9999920694105233), z_dir=(1, 0, 0))):
        with BuildLine():
            Line((-12.7, 10.3378), (-12.7, -10.3378))
            ThreePointArc((-12.7, -10.3378), (-12.008127639, -12.008127639), (-10.3378, -12.7))
            Line((-10.3378, -12.7), (10.3378, -12.7))
            ThreePointArc((10.3378, -12.7), (12.008127639, -12.008127639), (12.7, -10.3378))
            Line((12.7, -10.3378), (12.7, 10.3378))
            ThreePointArc((12.7, 10.3378), (12.008127639, 12.008127639), (10.3378, 12.7))
            Line((10.3378, 12.7), (-10.3378, 12.7))
            ThreePointArc((-10.3378, 12.7), (-12.008127639, 12.008127639), (-12.7, 10.3378))
        make_face()
        with BuildLine():
            Line((-11.4554, 10.3378), (-11.4554, -10.3378))
            ThreePointArc((-11.4554, -10.3378), (-11.128062539, -11.128062539), (-10.3378, -11.4554))
            Line((-10.3378, -11.4554), (10.3378, -11.4554))
            ThreePointArc((10.3378, -11.4554), (11.128062539, -11.128062539), (11.4554, -10.3378))
            Line((11.4554, -10.3378), (11.4554, 10.3378))
            ThreePointArc((11.4554, 10.3378), (11.128062539, 11.128062539), (10.3378, 11.4554))
            Line((10.3378, 11.4554), (-10.3378, 11.4554))
            ThreePointArc((-10.3378, 11.4554), (-11.128062539, 11.128062539), (-11.4554, 10.3378))
        make_face(mode=Mode.SUBTRACT)
    extrude(amount=FRONT_BULKHEAD_LOWER_DEPTH)


with BuildPart() as body_4_3:
    # Sketch126 → Front Bulkhead Side (new body)
    with BuildSketch(Plane(origin=(-139.7, 498.362362322, 643.477647564), x_dir=(1, 0, 0), z_dir=(0, -1, 0))):
        Circle(SKETCH126_R)
        Circle(SKETCH126_R_2, mode=Mode.SUBTRACT)
    extrude(amount=FRONT_BULKHEAD_SIDE_DEPTH)


with BuildPart() as body_5_3:
    # Sketch126 on segment 2 (carried to segment 2) → Front Bulkhead Side 2 (new body)
    with BuildSketch(Plane(origin=(139.7, 498.362362322, 643.477647564), x_dir=(1, 0, 0), z_dir=(0, -1, 0))):
        Circle(SKETCH126_ON_SEGMENT_2_R)
        Circle(SKETCH126_ON_SEGMENT_2_R_2, mode=Mode.SUBTRACT)
    extrude(amount=FRONT_BULKHEAD_SIDE_2_DEPTH)


with BuildPart() as body_6_3:
    # Sketch127 → Front Bulkhead Upper (new body)
    with BuildSketch(Plane(origin=(-156.21, 498.362362322, 643.477647564), x_dir=(0, 1, 0), z_dir=(1, 0, 0))):
        Circle(SKETCH127_R)
        Circle(SKETCH127_R_2, mode=Mode.SUBTRACT)
    extrude(amount=FRONT_BULKHEAD_UPPER_DEPTH)


solid = Compound([part_1.part, body_2_2_1.part, body_3_3.part, body_4_3.part, body_5_3.part, body_6_3.part])
